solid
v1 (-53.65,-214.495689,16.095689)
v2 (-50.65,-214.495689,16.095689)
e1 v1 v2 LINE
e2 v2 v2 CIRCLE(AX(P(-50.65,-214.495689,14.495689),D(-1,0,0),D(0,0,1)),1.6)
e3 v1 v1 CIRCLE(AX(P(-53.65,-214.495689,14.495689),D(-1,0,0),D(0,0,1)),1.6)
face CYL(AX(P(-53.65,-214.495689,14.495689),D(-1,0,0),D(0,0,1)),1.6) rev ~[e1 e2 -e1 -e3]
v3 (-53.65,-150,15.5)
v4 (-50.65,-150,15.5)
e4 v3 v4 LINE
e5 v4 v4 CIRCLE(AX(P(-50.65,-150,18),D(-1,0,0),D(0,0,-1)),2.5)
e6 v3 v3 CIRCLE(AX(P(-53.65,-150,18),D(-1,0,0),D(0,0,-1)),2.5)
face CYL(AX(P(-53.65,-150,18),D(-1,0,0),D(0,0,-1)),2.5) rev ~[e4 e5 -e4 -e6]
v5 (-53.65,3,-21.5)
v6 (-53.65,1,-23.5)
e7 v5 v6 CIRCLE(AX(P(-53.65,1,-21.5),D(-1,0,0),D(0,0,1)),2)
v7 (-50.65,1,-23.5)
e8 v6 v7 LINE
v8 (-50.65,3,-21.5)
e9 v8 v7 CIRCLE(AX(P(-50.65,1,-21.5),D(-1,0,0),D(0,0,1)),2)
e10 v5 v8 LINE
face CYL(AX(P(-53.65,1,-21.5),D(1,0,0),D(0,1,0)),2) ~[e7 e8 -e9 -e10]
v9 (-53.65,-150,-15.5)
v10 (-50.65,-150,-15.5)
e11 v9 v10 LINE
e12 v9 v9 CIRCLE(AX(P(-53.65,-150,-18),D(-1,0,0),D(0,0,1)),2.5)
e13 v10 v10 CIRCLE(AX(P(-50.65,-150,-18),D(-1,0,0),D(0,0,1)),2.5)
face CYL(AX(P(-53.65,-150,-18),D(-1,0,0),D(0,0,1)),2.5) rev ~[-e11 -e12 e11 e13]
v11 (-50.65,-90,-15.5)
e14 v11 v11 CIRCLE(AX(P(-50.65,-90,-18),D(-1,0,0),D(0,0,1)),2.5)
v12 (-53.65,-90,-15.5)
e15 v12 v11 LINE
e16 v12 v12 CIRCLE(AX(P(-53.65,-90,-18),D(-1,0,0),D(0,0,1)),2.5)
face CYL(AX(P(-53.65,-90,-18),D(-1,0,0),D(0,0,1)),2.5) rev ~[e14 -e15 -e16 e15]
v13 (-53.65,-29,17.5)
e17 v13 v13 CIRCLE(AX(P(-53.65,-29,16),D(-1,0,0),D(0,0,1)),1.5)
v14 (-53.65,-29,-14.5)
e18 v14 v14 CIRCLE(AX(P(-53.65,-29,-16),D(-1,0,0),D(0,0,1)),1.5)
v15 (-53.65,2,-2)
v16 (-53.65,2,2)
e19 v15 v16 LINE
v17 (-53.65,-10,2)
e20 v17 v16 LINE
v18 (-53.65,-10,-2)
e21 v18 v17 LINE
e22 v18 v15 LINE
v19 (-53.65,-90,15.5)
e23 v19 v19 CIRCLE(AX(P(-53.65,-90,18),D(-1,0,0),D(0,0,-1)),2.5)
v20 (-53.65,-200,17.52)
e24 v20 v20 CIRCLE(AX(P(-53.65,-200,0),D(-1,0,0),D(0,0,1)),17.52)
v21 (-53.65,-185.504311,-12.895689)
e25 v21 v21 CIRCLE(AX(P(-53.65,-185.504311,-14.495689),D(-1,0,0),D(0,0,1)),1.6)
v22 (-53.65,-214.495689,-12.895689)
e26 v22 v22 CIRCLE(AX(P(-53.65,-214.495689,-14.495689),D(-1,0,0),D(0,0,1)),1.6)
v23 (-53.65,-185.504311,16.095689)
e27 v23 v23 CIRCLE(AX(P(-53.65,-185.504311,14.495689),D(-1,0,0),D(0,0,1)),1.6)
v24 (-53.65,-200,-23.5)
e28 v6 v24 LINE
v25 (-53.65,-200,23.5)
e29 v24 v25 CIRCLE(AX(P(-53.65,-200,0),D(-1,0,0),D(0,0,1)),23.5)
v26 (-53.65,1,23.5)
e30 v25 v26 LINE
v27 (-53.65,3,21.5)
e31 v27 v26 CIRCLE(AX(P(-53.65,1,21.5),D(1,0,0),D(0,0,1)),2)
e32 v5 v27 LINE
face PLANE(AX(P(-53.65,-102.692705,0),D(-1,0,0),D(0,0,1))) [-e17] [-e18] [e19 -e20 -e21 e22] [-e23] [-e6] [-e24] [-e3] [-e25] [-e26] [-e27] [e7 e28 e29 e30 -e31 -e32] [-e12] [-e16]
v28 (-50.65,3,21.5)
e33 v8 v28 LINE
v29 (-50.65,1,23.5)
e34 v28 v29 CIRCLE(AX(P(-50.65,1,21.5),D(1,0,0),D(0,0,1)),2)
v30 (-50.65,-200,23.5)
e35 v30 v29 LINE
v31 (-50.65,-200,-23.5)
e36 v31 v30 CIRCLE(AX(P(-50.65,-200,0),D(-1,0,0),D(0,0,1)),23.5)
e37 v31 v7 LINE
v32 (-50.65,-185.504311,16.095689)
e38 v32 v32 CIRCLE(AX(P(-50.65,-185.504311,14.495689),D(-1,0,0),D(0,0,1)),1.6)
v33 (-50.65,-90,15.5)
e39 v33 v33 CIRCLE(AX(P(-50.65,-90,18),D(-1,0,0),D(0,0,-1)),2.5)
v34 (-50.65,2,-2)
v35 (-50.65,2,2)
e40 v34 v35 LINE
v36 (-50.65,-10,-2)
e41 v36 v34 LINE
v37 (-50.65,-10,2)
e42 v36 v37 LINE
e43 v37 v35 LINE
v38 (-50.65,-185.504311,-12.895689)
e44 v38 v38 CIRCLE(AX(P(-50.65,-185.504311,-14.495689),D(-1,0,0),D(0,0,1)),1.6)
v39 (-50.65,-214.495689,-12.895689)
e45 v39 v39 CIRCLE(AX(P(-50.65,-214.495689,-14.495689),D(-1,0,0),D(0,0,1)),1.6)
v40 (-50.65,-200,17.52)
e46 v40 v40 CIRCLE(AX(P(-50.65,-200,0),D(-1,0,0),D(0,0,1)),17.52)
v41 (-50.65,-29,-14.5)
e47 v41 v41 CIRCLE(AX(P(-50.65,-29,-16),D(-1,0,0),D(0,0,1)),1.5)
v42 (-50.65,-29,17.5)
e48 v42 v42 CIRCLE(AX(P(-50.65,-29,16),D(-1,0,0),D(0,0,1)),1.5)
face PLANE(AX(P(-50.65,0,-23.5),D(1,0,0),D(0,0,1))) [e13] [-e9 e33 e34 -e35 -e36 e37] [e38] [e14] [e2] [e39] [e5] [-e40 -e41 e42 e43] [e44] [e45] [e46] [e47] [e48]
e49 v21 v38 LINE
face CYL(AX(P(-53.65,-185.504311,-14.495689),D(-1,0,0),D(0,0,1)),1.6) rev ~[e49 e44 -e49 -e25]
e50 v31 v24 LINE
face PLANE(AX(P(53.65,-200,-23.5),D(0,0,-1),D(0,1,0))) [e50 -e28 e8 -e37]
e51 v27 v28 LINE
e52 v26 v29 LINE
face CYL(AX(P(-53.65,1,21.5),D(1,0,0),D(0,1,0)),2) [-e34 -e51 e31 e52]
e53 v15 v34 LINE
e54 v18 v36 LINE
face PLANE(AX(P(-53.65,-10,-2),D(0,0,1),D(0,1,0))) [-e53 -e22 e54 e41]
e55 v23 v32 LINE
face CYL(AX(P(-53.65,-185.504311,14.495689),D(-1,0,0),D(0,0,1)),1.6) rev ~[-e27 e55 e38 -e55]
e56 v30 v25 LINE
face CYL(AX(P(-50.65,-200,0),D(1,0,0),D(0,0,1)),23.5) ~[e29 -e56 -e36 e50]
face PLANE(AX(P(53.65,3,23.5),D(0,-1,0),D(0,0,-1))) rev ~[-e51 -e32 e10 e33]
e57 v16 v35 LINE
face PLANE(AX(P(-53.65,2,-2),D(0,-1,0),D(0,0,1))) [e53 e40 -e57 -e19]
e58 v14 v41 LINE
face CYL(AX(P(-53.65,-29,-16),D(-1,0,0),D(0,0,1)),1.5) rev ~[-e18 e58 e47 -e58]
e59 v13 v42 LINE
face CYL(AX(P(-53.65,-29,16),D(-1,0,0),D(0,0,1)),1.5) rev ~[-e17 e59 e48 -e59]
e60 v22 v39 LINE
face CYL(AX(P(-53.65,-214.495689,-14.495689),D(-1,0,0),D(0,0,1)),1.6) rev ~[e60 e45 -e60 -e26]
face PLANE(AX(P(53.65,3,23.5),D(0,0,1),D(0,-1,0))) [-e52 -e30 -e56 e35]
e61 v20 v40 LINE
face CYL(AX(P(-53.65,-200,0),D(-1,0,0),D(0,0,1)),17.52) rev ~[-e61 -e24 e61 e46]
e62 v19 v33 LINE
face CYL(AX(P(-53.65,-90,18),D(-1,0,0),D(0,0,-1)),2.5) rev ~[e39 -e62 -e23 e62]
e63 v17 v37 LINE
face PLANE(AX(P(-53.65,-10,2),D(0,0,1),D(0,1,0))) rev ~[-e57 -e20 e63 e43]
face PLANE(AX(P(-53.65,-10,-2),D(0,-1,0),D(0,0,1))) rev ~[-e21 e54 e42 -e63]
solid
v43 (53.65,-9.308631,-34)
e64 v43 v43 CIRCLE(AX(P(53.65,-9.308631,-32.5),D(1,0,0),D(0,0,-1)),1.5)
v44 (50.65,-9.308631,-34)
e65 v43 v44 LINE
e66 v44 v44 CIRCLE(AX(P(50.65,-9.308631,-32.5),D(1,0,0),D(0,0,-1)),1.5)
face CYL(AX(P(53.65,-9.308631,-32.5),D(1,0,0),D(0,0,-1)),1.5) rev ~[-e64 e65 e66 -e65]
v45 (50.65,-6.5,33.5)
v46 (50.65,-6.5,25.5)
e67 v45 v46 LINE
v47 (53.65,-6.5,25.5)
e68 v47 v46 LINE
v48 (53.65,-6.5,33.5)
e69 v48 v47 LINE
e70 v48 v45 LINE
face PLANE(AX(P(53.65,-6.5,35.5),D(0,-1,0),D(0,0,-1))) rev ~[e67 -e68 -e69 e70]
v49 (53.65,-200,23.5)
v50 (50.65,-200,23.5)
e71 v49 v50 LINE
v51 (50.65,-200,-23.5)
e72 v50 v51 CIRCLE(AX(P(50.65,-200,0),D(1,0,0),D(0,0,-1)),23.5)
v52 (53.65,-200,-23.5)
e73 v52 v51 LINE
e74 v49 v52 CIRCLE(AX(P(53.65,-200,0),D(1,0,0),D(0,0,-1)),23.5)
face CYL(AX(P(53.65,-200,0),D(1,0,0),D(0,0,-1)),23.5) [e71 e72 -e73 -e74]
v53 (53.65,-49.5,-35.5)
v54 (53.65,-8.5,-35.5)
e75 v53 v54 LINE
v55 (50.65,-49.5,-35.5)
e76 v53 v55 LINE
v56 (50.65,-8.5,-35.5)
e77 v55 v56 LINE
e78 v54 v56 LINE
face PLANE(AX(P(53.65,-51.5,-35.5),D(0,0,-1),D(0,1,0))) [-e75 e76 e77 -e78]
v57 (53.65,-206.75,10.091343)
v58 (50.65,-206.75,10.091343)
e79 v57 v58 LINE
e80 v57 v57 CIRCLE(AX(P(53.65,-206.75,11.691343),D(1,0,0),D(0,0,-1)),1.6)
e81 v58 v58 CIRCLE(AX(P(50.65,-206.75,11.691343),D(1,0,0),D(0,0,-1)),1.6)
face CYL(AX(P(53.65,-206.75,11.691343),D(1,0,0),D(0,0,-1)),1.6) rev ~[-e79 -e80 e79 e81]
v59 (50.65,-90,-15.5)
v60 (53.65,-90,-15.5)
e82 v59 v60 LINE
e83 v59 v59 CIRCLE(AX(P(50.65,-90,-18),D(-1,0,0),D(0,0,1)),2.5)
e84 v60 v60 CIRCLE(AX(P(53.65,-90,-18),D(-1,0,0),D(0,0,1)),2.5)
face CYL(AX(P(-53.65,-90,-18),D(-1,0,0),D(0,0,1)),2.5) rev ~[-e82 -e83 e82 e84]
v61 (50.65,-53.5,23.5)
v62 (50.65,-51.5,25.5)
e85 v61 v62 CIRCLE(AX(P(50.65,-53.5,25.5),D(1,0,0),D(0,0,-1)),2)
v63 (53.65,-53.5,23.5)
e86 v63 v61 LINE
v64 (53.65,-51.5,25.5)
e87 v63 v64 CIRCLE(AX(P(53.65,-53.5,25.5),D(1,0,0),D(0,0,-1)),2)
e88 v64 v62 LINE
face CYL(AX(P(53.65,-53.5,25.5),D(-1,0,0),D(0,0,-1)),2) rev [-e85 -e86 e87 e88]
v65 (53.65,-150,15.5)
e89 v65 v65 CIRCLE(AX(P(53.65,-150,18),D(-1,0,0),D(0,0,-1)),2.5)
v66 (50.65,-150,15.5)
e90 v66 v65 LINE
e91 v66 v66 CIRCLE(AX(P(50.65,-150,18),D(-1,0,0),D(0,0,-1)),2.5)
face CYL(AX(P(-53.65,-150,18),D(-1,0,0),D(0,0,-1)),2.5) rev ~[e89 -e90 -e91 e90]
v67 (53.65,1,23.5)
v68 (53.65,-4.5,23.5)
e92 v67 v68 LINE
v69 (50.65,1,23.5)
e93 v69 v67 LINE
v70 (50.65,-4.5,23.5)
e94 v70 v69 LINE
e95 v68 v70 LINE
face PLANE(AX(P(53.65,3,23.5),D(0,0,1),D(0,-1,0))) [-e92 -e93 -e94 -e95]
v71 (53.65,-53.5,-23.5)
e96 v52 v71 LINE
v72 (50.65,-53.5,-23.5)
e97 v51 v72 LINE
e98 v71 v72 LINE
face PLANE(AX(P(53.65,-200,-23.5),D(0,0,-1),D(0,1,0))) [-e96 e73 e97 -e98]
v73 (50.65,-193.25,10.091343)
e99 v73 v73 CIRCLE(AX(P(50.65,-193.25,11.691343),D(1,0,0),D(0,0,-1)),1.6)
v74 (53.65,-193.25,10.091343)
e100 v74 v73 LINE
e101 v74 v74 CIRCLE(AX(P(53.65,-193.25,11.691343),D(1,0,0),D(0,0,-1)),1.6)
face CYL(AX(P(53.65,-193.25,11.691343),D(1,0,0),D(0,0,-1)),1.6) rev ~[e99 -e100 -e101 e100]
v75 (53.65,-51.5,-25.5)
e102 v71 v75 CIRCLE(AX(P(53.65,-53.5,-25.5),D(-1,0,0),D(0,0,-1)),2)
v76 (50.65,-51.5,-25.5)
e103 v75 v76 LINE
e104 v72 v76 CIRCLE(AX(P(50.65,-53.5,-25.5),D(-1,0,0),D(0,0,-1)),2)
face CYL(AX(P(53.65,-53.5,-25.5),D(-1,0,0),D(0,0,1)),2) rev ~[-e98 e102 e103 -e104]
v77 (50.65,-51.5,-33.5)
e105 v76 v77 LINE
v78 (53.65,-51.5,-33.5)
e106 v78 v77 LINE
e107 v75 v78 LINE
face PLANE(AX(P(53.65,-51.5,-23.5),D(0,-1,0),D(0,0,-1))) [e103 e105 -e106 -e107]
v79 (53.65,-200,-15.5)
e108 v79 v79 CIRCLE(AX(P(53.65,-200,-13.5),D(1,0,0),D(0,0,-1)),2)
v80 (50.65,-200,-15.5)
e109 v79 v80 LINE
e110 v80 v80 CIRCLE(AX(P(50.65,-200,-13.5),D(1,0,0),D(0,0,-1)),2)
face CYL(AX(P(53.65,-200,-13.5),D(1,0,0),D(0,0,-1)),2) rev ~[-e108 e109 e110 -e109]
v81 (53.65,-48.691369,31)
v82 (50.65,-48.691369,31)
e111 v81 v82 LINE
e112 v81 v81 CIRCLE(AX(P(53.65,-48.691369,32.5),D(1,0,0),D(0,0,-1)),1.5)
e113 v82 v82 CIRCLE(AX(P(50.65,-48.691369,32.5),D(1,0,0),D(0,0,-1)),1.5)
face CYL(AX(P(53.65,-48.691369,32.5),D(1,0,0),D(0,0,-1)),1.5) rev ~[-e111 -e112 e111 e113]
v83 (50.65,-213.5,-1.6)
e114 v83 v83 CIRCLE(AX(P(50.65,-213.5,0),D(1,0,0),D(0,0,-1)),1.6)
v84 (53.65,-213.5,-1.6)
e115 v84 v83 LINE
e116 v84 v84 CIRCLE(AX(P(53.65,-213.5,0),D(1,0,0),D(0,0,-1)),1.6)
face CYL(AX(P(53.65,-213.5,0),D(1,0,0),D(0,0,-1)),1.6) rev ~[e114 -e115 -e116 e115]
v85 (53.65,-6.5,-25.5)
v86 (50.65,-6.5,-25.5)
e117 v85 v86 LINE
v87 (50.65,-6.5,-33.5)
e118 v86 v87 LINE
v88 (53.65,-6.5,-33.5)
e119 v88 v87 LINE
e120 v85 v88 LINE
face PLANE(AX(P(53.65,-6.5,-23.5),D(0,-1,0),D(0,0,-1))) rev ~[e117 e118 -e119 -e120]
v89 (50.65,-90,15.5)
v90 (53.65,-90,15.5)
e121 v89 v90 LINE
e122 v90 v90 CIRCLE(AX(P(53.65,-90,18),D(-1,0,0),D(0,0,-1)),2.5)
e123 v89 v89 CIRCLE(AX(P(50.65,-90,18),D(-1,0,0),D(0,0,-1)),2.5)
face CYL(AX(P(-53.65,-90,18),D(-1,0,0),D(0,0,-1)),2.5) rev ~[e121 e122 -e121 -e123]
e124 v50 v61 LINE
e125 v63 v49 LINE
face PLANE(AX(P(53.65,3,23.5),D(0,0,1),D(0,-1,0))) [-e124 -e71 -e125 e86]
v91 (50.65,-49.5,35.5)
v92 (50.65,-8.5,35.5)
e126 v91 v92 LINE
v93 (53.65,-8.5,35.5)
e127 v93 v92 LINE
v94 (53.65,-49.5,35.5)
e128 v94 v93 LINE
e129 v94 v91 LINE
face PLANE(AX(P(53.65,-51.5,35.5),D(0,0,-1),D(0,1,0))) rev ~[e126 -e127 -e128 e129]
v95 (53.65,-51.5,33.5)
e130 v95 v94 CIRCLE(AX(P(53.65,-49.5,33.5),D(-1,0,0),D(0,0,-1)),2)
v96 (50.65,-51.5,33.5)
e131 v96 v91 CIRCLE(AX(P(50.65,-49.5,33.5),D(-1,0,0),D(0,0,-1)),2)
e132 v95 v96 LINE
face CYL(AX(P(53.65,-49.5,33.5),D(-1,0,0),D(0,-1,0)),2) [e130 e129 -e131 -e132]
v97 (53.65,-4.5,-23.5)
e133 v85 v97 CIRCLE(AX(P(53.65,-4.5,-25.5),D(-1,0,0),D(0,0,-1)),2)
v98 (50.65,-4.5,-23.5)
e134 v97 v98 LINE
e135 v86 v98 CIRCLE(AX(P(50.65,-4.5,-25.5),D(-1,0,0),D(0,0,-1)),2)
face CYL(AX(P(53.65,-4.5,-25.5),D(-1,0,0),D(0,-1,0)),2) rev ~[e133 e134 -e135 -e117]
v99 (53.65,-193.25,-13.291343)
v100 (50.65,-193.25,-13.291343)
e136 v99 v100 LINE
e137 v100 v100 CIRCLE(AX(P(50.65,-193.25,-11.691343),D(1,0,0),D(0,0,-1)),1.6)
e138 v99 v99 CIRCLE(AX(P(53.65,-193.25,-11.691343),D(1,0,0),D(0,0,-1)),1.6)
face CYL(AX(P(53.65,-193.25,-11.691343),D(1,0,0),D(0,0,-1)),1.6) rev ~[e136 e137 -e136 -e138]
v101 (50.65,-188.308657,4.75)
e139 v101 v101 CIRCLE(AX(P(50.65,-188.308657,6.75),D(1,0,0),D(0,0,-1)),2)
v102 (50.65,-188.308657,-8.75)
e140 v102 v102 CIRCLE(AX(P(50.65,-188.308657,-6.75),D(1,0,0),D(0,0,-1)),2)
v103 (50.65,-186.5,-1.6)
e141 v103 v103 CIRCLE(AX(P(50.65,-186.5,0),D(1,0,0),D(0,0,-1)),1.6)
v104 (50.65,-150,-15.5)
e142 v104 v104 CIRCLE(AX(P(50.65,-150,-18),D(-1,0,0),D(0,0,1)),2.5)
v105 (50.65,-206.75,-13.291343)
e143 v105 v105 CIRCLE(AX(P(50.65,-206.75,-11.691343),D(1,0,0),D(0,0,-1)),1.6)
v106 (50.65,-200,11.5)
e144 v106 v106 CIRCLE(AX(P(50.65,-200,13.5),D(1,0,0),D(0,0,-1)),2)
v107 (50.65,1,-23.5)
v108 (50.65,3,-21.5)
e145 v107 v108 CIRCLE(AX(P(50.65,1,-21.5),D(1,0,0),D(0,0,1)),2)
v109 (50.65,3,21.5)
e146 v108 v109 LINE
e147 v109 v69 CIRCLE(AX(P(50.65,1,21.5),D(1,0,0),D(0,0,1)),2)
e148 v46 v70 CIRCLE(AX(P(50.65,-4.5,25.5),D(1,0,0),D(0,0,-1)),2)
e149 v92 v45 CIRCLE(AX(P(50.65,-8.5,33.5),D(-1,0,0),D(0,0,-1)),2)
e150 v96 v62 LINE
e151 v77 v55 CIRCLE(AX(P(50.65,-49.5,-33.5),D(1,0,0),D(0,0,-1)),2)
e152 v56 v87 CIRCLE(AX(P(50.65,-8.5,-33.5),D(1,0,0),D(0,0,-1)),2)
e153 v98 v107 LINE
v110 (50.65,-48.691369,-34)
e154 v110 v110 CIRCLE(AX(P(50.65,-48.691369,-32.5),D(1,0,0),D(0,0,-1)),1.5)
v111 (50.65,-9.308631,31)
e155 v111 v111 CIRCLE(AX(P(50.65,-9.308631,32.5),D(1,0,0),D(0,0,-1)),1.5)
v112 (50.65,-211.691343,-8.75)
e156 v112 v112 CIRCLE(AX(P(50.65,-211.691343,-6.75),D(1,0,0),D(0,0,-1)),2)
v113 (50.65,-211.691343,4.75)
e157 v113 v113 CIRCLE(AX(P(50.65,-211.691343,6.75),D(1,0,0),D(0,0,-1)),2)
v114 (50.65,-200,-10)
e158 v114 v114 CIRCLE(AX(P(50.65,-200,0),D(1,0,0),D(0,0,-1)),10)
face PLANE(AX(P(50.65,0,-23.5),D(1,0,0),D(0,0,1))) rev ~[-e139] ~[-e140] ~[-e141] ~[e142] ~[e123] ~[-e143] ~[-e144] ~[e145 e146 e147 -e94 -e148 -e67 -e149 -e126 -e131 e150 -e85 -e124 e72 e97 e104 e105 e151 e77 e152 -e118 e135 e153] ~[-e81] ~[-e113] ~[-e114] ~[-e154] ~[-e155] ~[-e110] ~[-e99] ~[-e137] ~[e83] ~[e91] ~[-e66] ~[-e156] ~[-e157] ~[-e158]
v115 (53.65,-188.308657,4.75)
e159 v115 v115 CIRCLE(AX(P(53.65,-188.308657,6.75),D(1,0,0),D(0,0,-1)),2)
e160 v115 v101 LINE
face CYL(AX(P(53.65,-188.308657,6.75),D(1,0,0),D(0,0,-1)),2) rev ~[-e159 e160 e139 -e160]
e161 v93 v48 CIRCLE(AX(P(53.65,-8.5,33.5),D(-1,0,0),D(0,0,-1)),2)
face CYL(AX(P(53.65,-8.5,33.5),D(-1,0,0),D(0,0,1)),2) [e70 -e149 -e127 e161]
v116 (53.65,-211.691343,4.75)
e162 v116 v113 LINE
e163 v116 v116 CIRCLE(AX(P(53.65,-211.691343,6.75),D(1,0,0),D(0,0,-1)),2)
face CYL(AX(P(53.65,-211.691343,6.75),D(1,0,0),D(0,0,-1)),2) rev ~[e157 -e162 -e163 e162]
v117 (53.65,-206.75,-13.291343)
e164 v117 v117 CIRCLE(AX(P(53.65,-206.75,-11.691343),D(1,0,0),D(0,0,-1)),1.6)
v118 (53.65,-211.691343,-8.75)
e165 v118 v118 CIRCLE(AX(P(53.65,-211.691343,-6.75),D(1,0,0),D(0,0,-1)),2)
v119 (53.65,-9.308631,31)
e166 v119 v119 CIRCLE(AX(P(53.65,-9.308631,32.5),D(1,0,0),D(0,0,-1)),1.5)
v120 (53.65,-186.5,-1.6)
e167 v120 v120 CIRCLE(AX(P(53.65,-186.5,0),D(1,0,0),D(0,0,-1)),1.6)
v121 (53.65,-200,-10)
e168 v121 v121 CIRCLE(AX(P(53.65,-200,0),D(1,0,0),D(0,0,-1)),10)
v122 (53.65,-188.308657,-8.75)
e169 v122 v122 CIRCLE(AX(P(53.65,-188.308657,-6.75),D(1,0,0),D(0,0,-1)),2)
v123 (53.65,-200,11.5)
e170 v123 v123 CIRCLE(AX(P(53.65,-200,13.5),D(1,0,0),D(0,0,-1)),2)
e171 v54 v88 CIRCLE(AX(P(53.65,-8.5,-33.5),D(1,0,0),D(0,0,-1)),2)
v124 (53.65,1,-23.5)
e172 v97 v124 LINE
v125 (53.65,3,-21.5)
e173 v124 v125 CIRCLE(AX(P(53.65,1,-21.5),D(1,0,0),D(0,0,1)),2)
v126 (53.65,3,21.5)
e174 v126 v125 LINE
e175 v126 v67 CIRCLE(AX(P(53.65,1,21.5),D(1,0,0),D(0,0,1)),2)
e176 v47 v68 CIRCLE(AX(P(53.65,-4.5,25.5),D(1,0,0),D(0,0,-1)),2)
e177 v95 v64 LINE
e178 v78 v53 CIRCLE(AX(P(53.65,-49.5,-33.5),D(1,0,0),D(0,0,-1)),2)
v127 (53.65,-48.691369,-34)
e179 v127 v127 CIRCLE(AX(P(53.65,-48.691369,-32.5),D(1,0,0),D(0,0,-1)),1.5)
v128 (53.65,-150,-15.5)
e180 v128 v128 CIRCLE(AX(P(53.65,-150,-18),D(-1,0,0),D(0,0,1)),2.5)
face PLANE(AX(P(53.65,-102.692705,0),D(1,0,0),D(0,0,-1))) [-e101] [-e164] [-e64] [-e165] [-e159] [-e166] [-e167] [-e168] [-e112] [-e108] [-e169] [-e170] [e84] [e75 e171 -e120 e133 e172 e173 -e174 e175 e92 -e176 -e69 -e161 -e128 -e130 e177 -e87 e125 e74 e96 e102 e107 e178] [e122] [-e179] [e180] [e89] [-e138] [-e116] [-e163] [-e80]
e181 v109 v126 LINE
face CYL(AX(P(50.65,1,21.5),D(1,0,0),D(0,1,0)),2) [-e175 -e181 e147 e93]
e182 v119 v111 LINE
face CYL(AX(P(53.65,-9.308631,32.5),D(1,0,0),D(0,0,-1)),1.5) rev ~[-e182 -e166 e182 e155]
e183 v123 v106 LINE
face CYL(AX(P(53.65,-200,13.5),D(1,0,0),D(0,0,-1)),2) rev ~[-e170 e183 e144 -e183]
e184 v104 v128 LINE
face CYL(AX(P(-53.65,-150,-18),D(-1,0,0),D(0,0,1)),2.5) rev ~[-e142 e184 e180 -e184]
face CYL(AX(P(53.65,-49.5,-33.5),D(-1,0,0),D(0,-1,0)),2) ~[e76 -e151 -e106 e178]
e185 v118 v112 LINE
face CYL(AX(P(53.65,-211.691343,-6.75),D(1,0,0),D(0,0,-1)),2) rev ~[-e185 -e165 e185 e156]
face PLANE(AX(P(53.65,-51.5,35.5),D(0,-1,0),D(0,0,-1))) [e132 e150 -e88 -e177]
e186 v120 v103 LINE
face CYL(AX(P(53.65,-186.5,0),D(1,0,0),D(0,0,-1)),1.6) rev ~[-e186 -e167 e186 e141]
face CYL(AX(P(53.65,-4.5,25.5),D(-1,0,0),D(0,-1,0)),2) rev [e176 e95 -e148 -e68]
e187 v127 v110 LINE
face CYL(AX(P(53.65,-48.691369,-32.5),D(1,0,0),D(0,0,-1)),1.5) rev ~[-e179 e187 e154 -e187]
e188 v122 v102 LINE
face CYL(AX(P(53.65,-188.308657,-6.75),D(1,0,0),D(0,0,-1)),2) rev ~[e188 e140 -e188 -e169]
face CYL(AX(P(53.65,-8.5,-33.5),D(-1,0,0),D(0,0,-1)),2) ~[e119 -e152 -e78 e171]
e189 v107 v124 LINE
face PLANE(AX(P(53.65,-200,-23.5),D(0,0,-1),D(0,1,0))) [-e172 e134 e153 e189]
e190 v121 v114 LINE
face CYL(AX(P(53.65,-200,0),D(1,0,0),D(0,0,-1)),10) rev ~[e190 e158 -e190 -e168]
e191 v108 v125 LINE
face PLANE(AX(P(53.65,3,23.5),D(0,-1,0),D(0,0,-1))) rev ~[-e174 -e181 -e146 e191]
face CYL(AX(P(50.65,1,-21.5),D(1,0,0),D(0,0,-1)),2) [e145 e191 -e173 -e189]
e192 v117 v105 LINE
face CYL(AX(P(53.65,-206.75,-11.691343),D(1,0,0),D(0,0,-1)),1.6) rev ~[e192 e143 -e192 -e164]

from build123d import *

# Parameters (mm, degrees)
SKETCH_1_W           = 101.3
SKETCH_1_H           = 47
EXTRUDE_1_DEPTH      = 3
SKETCH_2_W           = 47
SKETCH_2_H           = 3
SKETCH_2_R           = 23.5
EXTRUDE_2_DEPTH      = 3
EXTRUDE_START        = 3
SKETCH_3_W           = 47
SKETCH_3_H           = 3
SKETCH_3_R           = 23.5
EXTRUDE_3_DEPTH      = 3
SKETCH_5_R           = 2
CUT_EXTRUDE_2_DEPTH  = 3
SKETCH_6_R           = 1.5
CUT_EXTRUDE_3_DEPTH  = 3
SKETCH_7_R           = 17.52
SKETCH_7_R_2         = 1.6
CUT_EXTRUDE_4_DEPTH  = 3
SKETCH_8_R           = 10
SKETCH_8_R_2         = 1.6
SKETCH_8_R_3         = 2
CUT_EXTRUDE_5_DEPTH  = 3
SKETCH_15_R          = 10
CUT_EXTRUDE_10_DEPTH = 10
SKETCH_16_W          = 101.3
SKETCH_16_H          = 47
CUT_EXTRUDE_11_DEPTH = 10
FILLET_1_R           = 2
FILLET_2_R           = 2
SKETCH_18_R          = 1.5
SKETCH_18_W          = 4
SKETCH_18_H          = 12
CUT_EXTRUDE_13_DEPTH = 3
SKETCH_24_W          = 12
SKETCH_24_H          = 45
EXTRUDE_7_DEPTH      = 3
SKETCH_25_R          = 1.5
CUT_EXTRUDE_15_DEPTH = 251.451172886
FILLET_4_R           = 2
SKETCH_27_R          = 2.5
CUT_EXTRUDE_16_DEPTH = 251.451172886


with BuildPart() as part:
    # 草图1 → 凸台-拉伸1 (new body)
    with BuildSketch(Plane(origin=(0, 0, 0), x_dir=(1, 0, 0), z_dir=(0, 1, 0))):
        Rectangle(SKETCH_1_W, SKETCH_1_H)
    extrude(amount=EXTRUDE_1_DEPTH)

    # 草图2 → 凸台-拉伸2 (add)
    with BuildSketch(Plane.ZY.offset(50.65)):
        with BuildLine():
            Line((23.5, 0), (-23.5, 0))
            Line((-23.5, 0), (-23.5, -200))
            ThreePointArc((-23.5, -200), (0, -176.5), (23.5, -200))
            Line((23.5, -200), (23.5, 0))
        make_face()
        with Locations((0, 1.5)):
            Rectangle(SKETCH_2_W, SKETCH_2_H)
        with Locations((0, -200)):
            Circle(SKETCH_2_R)
    extrude(amount=EXTRUDE_2_DEPTH)

    # 草图3 → 凸台-拉伸3 (add)
    with BuildSketch(Plane(origin=(50.65, 0, 0), x_dir=(0, 0, -1), z_dir=(1, 0, 0)).offset(EXTRUDE_START)):
        with BuildLine():
            Line((23.5, 0), (-23.5, 0))
            Line((-23.5, 0), (-23.5, -200))
            ThreePointArc((-23.5, -200), (0, -176.5), (23.5, -200))
            Line((23.5, -200), (23.5, 0))
        make_face()
        with Locations((0, 1.5)):
            Rectangle(SKETCH_3_W, SKETCH_3_H)
        with Locations((0, -200)):
            Circle(SKETCH_3_R)
    extrude(amount=-EXTRUDE_3_DEPTH)

    # 草图5 → 切除-拉伸2 (cut)
    with BuildSketch(Plane(origin=(0, 3, 0), x_dir=(1, 0, 0), z_dir=(0, 1, 0))):
        with Locations(Location((21.650635095, -12.5, 0), (0, 0, 270))):
            Circle(SKETCH_5_R)
        with Locations((0, -25)):
            Circle(SKETCH_5_R)
        with Locations(Location((-21.650635095, -12.5, 0), (0, 0, 270))):
            Circle(SKETCH_5_R)
        with Locations(Location((-21.650635095, 12.5, 0), (0, 0, 270))):
            Circle(SKETCH_5_R)
        with Locations((0, 25)):
            Circle(SKETCH_5_R)
        with Locations(Location((21.650635095, 12.5, 0), (0, 0, 270))):
            Circle(SKETCH_5_R)
    extrude(amount=-CUT_EXTRUDE_2_DEPTH, mode=Mode.SUBTRACT)

    # 草图6 → 切除-拉伸3 (cut)
    with BuildSketch(Plane(origin=(0, 3, 0), x_dir=(1, 0, 0), z_dir=(0, 1, 0))):
        with Locations((-6.470476128, 24.148145657)):
            Circle(SKETCH_6_R)
        with Locations((6.470476128, -24.148145657)):
            Circle(SKETCH_6_R)
        with Locations((-6.470476128, -24.148145657)):
            Circle(SKETCH_6_R)
        with Locations((6.470476128, 24.148145657)):
            Circle(SKETCH_6_R)
    extrude(amount=-CUT_EXTRUDE_3_DEPTH, mode=Mode.SUBTRACT)

    # 草图7 → 切除-拉伸4 (cut)
    with BuildSketch(Plane.ZY.offset(53.65)):
        with Locations((0, -200)):
            Circle(SKETCH_7_R)
        with Locations((14.495689014, -185.504310986)):
            Circle(SKETCH_7_R_2)
        with Locations((14.495689014, -214.495689014)):
            Circle(SKETCH_7_R_2)
        with Locations((-14.495689014, -214.495689014)):
            Circle(SKETCH_7_R_2)
        with Locations((-14.495689014, -185.504310986)):
            Circle(SKETCH_7_R_2)
    extrude(amount=-CUT_EXTRUDE_4_DEPTH, mode=Mode.SUBTRACT)

    # 草图8 → 切除-拉伸5 (cut)
    with BuildSketch(Plane(origin=(53.65, 0, 0), x_dir=(0, 0, -1), z_dir=(1, 0, 0))):
        with Locations((0, -200)):
            Circle(SKETCH_8_R)
        with Locations((0, -213.5)):
            Circle(SKETCH_8_R_2)
        with Locations((-11.691342951, -206.75)):
            Circle(SKETCH_8_R_2)
        with Locations((-11.691342951, -193.25)):
            Circle(SKETCH_8_R_2)
        with Locations((0, -186.5)):
            Circle(SKETCH_8_R_2)
        with Locations((11.691342951, -193.25)):
            Circle(SKETCH_8_R_2)
        with Locations((11.691342951, -206.75)):
            Circle(SKETCH_8_R_2)
        with Locations((13.5, -200)):
            Circle(SKETCH_8_R_3)
        with Locations((6.75, -211.691342951)):
            Circle(SKETCH_8_R_3)
        with Locations((-6.75, -211.691342951)):
            Circle(SKETCH_8_R_3)
        with Locations((-13.5, -200)):
            Circle(SKETCH_8_R_3)
        with Locations((-6.75, -188.308657049)):
            Circle(SKETCH_8_R_3)
        with Locations((6.75, -188.308657049)):
            Circle(SKETCH_8_R_3)
    extrude(amount=-CUT_EXTRUDE_5_DEPTH, mode=Mode.SUBTRACT)

    # 草图15 → 切除-拉伸10 (cut)
    with BuildSketch(Plane(origin=(0, 3, 0), x_dir=(1, 0, 0), z_dir=(0, 1, 0))):
        with Locations(Location((0, 0, 0), (0, 0, 270))):
            Circle(SKETCH_15_R)
    extrude(amount=-CUT_EXTRUDE_10_DEPTH, mode=Mode.SUBTRACT)

    # 草图16 → 切除-拉伸11 (cut)
    with BuildSketch(Plane.XZ):
        Rectangle(SKETCH_16_W, SKETCH_16_H)
    extrude(amount=-CUT_EXTRUDE_11_DEPTH, mode=Mode.SUBTRACT)


with BuildPart() as cut_extrude_11_piece_1:
    # of the separate pieces the step leaves, piece 1, a body of its own (cut_extrude_11_pieces)
    add(part.part.solids().sort_by_distance((50.65, 3, -23.5))[0])

    # 圆角2
    fillet_2_edges = [cut_extrude_11_piece_1.edges().sort_by_distance(p)[0] for p in [
        (52.15, 3, -23.5),
        (52.15, 3, 23.5),
    ]]
    fillet(fillet_2_edges, radius=FILLET_2_R)

    # 草图24 → 凸台-拉伸7 (add)
    with BuildSketch(Plane(origin=(53.65, 0, 0), x_dir=(0, 0, -1), z_dir=(1, 0, 0))):
        with Locations((-29.5, -29)):
            Rectangle(SKETCH_24_W, SKETCH_24_H)
        with Locations((29.5, -29)):
            Rectangle(SKETCH_24_W, SKETCH_24_H)
    extrude(amount=-EXTRUDE_7_DEPTH)

    # 草图25 → 切除-拉伸15 (cut, through all)
    with BuildSketch(Plane(origin=(53.65, 0, 0), x_dir=(0, 0, -1), z_dir=(1, 0, 0))):
        with Locations((-32.5, -9.308631332)):
            Circle(SKETCH_25_R)
        with Locations((-32.5, -48.691368668)):
            Circle(SKETCH_25_R)
        with Locations((32.5, -9.308631332)):
            Circle(SKETCH_25_R)
        with Locations((32.5, -48.691368668)):
            Circle(SKETCH_25_R)
    extrude(amount=-CUT_EXTRUDE_15_DEPTH, mode=Mode.SUBTRACT)

    # 圆角4
    fillet_4_edges = [cut_extrude_11_piece_1.edges().sort_by_distance(p)[0] for p in [
        (52.15, -6.5, 23.5),
        (52.15, -51.5, 23.5),
        (52.15, -51.5, 35.5),
        (52.15, -6.5, 35.5),
        (52.15, -51.5, -23.5),
        (52.15, -6.5, -23.5),
        (52.15, -6.5, -35.5),
        (52.15, -51.5, -35.5),
    ]]
    fillet(fillet_4_edges, radius=FILLET_4_R)


with BuildPart() as cut_extrude_11_piece_2:
    # of the separate pieces the step leaves, piece 2, a body of its own (cut_extrude_11_pieces)
    add(part.part.solids().sort_by_distance((-50.65, 3, 23.5))[0])

    # 圆角1
    fillet_1_edges = [cut_extrude_11_piece_2.edges().sort_by_distance(p)[0] for p in [
        (-52.15, 3, 23.5),
        (-52.15, 3, -23.5),
    ]]
    fillet(fillet_1_edges, radius=FILLET_1_R)

    # 草图18 → 切除-拉伸13 (cut)
    with BuildSketch(Plane.ZY.offset(53.65)):
        with Locations((-16, -29)):
            Circle(SKETCH_18_R)
        with Locations((16, -29)):
            Circle(SKETCH_18_R)
        with Locations((0, -4)):
            Rectangle(SKETCH_18_W, SKETCH_18_H)
    extrude(amount=-CUT_EXTRUDE_13_DEPTH, mode=Mode.SUBTRACT)


with BuildPart() as cut_extrude_16_tool:
    # 草图27 → 切除-拉伸16 (new, through all)
    with BuildSketch(Plane.ZY.offset(53.65)):
        with Locations((-18, -150)):
            Circle(SKETCH_27_R)
        with Locations((-18, -90)):
            Circle(SKETCH_27_R)
        with Locations(Location((18, -150, 0), (0, 0, 180))):
            Circle(SKETCH_27_R)
        with Locations(Location((18, -90, 0), (0, 0, 180))):
            Circle(SKETCH_27_R)
    extrude(amount=-CUT_EXTRUDE_16_DEPTH)


with BuildPart() as cut_extrude_11_piece_1_1:
    add(cut_extrude_11_piece_1.part)

    # 切除-拉伸16: cut by cut_extrude_16_tool
    add(cut_extrude_16_tool.part, mode=Mode.SUBTRACT)


with BuildPart() as cut_extrude_11_piece_2_1:
    add(cut_extrude_11_piece_2.part)

    # 切除-拉伸16: cut by cut_extrude_16_tool
    add(cut_extrude_16_tool.part, mode=Mode.SUBTRACT)


solid = Compound([cut_extrude_11_piece_1_1.part, cut_extrude_11_piece_2_1.part])
